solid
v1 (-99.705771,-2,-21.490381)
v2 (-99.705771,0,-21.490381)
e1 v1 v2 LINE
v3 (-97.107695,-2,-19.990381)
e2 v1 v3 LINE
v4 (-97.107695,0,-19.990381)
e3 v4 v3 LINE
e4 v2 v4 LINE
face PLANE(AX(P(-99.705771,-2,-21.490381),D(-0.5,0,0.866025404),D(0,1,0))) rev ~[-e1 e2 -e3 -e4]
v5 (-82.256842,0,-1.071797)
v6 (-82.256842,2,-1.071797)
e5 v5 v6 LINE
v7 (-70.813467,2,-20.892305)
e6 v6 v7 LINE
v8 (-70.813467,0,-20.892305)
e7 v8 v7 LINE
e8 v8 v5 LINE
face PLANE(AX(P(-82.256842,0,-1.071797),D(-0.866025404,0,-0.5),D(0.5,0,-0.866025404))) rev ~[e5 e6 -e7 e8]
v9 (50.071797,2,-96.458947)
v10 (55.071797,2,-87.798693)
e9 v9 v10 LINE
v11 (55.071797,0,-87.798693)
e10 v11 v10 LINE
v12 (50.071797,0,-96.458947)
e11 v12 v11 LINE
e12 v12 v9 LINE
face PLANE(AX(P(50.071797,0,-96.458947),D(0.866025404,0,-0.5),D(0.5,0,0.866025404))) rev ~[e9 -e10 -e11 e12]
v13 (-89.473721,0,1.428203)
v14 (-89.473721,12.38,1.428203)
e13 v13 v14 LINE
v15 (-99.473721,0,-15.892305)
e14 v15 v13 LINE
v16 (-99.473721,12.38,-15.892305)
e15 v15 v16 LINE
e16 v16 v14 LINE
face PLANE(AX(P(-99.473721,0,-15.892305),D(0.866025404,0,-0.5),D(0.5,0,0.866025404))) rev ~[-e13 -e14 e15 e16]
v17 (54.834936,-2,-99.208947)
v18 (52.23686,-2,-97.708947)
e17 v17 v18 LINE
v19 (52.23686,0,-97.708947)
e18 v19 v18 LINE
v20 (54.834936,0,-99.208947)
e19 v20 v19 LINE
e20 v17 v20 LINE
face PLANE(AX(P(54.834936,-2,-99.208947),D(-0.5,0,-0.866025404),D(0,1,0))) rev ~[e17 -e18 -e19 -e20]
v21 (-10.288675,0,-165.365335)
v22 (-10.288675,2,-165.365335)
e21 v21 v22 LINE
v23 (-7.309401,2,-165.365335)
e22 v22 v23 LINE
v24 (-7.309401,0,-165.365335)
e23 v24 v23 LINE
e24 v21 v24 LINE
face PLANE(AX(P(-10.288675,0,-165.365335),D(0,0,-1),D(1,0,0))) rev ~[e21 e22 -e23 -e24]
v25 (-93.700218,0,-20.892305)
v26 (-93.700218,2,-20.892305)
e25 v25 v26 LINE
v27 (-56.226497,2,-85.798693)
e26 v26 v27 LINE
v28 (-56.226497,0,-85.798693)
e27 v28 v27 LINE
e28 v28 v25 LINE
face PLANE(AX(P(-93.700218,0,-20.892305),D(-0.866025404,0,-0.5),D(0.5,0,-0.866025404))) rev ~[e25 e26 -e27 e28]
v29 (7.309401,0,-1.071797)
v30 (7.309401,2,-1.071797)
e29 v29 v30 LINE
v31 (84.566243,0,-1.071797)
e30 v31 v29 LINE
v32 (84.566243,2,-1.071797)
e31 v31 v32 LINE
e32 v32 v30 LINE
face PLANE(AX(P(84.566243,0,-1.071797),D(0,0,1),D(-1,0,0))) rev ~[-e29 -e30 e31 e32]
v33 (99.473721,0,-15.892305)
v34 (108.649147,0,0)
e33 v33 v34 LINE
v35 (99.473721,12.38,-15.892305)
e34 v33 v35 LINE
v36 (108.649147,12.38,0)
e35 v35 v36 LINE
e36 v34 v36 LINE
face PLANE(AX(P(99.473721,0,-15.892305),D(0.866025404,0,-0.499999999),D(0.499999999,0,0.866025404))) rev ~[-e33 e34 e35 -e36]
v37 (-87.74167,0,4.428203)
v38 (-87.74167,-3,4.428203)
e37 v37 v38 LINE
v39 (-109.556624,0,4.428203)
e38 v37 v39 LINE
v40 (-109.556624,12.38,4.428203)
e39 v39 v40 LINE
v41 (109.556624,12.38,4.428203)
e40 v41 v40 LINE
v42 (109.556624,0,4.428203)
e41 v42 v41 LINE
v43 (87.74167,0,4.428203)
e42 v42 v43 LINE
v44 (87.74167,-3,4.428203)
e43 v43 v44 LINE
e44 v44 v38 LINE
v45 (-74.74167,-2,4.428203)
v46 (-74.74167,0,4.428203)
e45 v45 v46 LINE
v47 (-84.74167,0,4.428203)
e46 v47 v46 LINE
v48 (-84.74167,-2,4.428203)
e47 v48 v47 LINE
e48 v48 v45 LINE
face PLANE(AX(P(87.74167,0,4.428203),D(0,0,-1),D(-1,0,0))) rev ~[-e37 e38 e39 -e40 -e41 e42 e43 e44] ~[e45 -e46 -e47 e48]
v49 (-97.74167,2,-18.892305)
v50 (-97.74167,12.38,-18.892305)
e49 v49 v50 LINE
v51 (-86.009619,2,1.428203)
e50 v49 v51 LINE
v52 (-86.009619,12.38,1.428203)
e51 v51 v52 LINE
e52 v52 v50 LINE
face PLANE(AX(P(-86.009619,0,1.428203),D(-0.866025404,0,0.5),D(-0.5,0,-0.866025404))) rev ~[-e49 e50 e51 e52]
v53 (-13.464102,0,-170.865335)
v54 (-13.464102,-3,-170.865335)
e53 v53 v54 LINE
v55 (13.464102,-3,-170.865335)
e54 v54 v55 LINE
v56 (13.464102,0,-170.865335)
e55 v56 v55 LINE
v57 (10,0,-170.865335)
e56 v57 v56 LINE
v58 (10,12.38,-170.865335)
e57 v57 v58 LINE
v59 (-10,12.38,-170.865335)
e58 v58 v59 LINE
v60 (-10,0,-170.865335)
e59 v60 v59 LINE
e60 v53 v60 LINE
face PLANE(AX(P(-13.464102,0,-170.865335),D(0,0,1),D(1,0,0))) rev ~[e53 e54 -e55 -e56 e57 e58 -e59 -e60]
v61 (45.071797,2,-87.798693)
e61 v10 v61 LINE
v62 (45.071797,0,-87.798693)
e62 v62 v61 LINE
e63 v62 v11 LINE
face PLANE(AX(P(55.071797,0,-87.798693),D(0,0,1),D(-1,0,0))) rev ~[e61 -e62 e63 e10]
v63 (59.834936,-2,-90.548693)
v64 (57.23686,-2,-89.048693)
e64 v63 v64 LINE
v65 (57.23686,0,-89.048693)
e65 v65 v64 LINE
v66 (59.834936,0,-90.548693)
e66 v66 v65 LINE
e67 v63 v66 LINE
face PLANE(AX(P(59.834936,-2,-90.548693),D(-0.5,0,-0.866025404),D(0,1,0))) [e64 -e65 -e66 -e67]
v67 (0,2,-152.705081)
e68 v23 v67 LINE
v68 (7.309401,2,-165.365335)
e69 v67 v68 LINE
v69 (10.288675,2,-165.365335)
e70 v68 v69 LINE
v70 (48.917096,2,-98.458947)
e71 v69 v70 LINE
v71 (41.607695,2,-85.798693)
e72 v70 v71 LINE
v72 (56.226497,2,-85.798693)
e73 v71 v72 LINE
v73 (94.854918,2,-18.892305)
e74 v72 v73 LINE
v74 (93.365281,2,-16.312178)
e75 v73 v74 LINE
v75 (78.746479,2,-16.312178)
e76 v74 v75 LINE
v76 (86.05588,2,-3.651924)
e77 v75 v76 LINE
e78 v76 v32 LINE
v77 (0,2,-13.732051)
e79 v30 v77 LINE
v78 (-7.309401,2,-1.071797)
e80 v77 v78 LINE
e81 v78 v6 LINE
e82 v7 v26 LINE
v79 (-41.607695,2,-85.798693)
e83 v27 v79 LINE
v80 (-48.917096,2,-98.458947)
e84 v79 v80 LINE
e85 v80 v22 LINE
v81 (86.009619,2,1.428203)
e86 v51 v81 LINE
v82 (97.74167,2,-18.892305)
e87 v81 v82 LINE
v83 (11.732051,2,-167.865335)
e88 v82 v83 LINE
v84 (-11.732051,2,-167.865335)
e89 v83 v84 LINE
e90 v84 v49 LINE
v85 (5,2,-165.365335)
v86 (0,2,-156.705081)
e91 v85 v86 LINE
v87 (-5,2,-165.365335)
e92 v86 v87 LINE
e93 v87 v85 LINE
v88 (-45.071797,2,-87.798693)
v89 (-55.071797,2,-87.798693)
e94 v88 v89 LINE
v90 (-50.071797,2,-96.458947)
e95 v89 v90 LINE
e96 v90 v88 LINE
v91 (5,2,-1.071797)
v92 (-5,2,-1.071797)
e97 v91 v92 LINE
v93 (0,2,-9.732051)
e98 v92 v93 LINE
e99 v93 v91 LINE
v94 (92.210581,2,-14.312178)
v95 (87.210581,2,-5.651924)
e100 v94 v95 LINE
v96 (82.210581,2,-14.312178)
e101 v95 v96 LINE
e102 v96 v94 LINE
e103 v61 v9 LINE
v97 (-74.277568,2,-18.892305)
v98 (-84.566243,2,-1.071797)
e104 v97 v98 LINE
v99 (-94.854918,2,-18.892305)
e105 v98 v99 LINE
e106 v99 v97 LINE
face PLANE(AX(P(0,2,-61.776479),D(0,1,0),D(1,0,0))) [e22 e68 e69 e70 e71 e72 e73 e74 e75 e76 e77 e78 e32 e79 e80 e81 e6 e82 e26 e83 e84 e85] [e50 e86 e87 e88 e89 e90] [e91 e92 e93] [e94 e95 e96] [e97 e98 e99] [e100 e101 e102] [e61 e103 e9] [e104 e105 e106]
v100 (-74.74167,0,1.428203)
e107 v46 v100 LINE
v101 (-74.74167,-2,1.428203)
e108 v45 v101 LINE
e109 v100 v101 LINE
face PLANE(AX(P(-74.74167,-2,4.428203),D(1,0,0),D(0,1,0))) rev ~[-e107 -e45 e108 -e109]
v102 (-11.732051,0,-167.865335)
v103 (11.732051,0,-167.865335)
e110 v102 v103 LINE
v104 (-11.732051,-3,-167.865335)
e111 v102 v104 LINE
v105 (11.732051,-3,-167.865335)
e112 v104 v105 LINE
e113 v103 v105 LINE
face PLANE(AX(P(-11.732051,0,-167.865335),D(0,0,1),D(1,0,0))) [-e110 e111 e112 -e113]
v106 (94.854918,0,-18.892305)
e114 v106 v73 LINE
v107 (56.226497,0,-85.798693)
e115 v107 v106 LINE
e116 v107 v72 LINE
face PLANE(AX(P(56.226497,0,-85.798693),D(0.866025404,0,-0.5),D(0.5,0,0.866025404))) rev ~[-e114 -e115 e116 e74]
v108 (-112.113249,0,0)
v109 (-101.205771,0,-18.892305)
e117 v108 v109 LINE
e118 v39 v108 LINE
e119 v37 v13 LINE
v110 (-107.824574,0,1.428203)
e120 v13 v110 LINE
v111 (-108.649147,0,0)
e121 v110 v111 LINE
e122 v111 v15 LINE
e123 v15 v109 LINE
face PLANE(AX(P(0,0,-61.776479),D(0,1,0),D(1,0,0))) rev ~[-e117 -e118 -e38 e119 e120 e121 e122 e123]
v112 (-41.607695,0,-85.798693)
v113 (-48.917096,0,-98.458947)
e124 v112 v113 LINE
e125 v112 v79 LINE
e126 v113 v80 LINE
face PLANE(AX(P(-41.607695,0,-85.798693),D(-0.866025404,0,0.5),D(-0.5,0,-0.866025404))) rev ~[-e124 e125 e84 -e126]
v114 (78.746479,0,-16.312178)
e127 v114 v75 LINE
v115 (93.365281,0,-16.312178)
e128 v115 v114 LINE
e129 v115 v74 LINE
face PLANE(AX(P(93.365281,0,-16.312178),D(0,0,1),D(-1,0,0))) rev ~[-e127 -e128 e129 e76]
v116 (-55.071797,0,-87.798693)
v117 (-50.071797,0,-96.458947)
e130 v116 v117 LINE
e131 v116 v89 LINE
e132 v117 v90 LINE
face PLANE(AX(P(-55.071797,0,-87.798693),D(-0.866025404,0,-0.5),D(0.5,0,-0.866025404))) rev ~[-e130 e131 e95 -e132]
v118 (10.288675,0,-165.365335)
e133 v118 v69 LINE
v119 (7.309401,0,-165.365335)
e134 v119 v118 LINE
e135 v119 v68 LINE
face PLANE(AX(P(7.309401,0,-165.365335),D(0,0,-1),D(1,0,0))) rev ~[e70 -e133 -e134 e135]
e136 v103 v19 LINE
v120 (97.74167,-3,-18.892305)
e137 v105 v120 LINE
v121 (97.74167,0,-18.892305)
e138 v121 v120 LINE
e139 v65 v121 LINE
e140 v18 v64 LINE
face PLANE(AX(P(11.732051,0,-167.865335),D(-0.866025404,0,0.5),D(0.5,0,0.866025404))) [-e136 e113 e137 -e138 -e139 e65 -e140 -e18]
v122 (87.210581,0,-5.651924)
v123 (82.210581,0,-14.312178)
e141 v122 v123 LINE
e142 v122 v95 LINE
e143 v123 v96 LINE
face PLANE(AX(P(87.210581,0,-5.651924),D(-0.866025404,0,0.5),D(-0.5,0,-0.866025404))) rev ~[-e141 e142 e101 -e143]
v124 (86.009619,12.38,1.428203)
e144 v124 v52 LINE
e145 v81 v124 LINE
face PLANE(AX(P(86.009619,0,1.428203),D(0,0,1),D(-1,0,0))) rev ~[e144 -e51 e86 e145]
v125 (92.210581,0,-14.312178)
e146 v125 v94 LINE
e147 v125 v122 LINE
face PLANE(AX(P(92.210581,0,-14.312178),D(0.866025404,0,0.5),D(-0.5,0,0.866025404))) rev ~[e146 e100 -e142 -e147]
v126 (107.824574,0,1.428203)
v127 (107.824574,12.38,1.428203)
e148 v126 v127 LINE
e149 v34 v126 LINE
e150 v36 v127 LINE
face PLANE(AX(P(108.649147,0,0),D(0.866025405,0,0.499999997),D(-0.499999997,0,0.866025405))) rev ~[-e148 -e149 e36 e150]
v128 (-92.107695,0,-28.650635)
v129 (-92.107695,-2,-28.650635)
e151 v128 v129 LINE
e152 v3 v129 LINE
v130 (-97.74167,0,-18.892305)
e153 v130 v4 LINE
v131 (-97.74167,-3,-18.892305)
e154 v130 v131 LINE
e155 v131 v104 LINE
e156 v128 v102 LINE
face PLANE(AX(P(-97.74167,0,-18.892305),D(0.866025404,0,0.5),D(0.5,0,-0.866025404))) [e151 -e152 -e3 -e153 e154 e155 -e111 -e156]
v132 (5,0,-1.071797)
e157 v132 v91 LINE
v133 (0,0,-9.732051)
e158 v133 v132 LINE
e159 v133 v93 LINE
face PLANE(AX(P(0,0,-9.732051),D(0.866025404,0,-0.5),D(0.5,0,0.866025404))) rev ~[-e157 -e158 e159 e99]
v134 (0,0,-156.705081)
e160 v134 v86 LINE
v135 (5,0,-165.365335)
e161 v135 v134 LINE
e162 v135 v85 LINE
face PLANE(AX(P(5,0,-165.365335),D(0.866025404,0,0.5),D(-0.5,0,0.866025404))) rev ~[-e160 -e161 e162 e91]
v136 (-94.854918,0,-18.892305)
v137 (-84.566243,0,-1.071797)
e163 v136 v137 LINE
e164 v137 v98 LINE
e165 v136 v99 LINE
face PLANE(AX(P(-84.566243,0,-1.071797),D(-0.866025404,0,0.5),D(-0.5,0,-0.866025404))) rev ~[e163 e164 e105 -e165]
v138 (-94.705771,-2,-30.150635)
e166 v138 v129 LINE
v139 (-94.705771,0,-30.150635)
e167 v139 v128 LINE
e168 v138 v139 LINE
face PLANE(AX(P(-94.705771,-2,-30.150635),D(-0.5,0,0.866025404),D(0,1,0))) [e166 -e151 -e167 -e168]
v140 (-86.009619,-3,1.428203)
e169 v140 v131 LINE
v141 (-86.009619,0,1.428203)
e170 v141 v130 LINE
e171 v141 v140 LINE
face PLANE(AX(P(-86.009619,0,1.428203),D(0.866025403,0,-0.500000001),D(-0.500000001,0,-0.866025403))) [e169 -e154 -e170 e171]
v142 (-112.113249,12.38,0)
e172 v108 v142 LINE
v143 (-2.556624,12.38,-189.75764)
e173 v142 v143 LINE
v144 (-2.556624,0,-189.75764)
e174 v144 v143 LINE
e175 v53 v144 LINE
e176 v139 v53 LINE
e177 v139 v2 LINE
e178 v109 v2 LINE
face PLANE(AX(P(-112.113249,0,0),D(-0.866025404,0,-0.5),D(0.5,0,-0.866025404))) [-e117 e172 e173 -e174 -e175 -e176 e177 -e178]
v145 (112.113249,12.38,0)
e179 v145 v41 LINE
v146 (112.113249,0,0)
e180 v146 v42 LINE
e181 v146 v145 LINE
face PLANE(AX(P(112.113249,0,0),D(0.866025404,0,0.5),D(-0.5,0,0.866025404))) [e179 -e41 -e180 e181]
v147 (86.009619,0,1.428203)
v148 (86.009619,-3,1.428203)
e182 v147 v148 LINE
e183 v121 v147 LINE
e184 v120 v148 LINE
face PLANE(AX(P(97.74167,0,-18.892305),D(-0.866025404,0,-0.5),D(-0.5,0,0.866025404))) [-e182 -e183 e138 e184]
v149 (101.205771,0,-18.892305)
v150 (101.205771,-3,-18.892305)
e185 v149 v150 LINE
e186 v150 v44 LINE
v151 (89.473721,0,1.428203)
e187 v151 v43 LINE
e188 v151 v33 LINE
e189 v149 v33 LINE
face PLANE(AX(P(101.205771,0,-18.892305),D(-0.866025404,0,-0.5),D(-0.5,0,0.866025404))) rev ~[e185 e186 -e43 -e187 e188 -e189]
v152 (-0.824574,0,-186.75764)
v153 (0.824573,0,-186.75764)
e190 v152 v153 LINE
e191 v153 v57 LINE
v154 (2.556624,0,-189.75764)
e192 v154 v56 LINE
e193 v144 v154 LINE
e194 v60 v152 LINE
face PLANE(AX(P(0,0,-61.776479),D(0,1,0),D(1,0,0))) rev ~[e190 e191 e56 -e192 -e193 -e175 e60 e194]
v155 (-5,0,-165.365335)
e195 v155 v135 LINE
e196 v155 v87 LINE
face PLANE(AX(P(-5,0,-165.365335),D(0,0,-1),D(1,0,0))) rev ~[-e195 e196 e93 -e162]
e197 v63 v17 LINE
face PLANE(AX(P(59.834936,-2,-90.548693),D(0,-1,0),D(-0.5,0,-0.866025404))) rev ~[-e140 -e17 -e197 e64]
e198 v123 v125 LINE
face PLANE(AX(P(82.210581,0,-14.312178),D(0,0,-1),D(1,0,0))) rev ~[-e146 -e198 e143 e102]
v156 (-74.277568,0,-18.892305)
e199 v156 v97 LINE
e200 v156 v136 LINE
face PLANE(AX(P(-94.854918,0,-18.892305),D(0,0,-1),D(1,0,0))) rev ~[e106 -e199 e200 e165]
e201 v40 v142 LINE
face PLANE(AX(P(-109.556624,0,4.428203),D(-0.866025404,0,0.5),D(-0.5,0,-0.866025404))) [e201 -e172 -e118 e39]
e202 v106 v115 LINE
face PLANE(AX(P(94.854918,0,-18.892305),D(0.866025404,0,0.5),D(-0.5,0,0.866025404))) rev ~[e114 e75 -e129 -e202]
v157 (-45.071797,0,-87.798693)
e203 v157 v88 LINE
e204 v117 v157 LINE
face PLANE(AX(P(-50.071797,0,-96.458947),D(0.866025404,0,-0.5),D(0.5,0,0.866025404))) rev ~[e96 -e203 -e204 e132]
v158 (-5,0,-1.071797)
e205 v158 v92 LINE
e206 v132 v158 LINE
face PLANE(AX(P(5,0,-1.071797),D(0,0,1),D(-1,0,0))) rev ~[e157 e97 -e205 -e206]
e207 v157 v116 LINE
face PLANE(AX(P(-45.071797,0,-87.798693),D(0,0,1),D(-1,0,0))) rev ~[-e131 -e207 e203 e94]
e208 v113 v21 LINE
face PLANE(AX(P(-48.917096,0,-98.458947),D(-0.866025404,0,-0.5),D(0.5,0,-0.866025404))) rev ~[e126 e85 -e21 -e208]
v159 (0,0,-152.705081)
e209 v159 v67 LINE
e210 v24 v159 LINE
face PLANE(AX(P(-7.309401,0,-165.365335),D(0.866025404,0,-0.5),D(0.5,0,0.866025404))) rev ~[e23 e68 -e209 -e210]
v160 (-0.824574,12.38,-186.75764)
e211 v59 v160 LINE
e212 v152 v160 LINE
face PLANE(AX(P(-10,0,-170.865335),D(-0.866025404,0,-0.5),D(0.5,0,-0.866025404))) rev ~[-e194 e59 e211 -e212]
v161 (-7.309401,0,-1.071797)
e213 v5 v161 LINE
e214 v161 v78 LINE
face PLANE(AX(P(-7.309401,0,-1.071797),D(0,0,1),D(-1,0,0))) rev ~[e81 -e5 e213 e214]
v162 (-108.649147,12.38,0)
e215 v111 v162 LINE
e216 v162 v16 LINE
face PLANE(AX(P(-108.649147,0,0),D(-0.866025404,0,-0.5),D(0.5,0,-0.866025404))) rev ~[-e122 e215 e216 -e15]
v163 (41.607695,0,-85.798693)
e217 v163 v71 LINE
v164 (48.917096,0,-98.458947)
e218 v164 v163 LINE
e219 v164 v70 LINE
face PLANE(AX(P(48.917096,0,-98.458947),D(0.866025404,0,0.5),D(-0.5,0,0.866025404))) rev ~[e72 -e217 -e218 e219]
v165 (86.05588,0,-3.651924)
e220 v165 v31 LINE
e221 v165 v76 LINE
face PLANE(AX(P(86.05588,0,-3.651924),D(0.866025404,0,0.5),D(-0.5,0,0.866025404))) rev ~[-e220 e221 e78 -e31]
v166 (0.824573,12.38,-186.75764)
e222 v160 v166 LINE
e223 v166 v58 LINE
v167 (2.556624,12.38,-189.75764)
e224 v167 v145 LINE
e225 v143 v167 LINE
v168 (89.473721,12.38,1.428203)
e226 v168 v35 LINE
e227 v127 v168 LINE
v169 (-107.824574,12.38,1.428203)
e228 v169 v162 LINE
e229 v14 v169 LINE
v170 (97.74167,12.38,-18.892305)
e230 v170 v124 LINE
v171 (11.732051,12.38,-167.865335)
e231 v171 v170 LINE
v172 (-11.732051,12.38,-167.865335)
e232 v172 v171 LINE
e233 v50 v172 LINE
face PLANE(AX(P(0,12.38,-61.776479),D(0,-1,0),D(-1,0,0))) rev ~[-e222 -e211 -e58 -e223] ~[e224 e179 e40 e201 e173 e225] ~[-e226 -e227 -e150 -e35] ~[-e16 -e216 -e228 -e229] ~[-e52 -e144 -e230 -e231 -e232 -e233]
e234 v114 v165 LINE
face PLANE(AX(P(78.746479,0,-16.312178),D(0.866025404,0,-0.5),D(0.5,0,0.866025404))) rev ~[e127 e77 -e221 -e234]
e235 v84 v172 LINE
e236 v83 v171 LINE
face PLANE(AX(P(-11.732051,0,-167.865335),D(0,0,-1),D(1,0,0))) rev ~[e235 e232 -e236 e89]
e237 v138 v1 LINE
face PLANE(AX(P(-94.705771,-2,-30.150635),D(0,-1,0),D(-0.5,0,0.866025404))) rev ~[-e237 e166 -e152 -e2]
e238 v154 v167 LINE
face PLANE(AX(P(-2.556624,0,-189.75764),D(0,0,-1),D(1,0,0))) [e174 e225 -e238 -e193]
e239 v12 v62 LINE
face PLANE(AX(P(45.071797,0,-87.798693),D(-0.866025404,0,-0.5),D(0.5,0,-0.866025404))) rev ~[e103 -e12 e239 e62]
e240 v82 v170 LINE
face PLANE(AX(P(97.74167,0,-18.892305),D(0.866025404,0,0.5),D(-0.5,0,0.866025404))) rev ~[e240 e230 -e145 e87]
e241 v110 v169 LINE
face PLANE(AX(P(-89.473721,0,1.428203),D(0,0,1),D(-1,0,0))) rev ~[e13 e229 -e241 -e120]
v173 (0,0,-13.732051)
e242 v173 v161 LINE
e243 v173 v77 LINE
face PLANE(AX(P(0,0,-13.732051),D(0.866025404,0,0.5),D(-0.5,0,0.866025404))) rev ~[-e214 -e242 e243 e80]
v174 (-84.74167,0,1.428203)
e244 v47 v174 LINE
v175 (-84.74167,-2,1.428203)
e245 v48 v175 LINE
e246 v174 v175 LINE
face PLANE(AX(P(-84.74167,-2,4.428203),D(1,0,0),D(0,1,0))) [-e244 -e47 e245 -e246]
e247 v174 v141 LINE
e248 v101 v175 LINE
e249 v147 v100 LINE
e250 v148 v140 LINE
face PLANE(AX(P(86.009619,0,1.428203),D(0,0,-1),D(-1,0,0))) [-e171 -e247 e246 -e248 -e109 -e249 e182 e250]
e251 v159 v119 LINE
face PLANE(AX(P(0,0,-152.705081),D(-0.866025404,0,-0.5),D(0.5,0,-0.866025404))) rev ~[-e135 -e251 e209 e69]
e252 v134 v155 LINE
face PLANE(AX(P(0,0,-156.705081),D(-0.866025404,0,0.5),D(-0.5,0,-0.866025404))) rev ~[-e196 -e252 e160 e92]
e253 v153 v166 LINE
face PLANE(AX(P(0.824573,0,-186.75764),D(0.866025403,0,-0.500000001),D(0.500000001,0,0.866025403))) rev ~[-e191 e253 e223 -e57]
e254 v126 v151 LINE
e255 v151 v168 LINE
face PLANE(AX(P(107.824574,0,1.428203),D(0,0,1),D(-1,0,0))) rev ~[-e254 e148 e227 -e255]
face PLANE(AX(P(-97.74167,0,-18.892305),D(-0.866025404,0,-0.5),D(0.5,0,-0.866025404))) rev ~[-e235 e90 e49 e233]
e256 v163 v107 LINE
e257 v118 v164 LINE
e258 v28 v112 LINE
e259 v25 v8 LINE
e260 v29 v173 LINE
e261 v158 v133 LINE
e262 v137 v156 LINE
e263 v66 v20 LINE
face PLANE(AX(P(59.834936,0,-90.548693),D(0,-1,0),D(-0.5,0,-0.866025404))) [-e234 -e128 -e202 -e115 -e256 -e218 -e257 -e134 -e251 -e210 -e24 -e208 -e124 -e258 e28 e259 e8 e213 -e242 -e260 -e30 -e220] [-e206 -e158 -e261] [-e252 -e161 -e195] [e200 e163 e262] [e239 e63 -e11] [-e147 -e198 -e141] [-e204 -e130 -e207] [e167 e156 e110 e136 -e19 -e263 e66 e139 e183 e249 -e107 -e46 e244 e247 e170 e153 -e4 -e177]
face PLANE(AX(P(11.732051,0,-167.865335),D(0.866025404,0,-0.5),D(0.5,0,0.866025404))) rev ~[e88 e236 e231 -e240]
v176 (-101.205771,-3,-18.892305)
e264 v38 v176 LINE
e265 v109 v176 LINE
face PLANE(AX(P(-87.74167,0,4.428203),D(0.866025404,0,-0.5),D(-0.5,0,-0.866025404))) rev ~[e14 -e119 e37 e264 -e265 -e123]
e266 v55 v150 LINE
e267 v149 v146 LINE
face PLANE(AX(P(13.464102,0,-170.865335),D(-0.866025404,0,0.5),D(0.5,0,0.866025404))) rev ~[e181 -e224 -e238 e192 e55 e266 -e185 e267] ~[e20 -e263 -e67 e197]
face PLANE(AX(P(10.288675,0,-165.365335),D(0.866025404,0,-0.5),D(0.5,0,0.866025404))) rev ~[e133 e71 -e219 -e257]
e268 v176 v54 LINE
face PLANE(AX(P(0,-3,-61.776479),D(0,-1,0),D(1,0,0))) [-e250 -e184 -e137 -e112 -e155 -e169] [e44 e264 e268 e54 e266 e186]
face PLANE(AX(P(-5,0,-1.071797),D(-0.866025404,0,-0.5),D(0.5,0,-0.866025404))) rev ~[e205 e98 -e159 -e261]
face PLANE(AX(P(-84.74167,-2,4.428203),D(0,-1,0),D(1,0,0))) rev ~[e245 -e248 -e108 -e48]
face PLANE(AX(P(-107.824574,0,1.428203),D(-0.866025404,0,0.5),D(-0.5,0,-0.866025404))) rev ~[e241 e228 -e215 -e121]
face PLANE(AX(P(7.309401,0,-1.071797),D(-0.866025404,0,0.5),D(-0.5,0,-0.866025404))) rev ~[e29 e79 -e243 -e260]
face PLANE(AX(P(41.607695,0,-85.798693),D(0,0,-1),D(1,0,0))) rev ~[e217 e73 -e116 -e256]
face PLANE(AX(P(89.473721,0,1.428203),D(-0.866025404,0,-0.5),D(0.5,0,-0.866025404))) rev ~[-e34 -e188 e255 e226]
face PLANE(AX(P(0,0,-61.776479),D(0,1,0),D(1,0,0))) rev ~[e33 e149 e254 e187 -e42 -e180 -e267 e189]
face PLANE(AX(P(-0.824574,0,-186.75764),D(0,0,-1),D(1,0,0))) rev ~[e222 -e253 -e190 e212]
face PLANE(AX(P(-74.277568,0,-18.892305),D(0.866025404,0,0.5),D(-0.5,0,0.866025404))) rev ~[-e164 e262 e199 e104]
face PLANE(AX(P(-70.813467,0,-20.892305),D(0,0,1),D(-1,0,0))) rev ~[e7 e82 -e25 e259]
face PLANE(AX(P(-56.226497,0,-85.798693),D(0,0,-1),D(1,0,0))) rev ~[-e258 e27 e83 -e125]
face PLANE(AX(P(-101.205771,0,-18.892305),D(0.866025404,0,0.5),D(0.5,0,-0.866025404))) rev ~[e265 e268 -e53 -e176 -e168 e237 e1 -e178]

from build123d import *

# Parameters (mm, degrees)
BOSS_EXTRUDE1_DEPTH = 12.38
BOSS_EXTRUDE2_DEPTH = 2
BOSS_EXTRUDE3_DEPTH = 3
SKETCH4_W           = 10
SKETCH4_H           = 2
CUT_EXTRUDE1_DEPTH  = 6
SKETCH5_W           = 10
SKETCH5_H           = 2
CUT_EXTRUDE2_DEPTH  = 6
SKETCH6_W           = 10
SKETCH6_H           = 2
CUT_EXTRUDE3_DEPTH  = 6


with BuildPart() as part:
    # Sketch1 → Boss-Extrude1 (new body)
    with BuildSketch(Plane(origin=(0, 0, 0), x_dir=(1, 0, 0), z_dir=(0, 1, 0))):
        Polygon((109.556624327, -4.42820323), (-109.556624327, -4.42820323), (-112.113248654, 0), (-2.55662435, 189.757639654), (2.556624303, 189.757639654), (112.113248654, 0), align=None)
        Polygon((-107.82457352, -1.42820323), (-108.649147039, 0), (-99.473720558, 15.892304845), (-89.473720559, -1.42820323), align=None, mode=Mode.SUBTRACT)
        Polygon((-0.824573543, 186.757639627), (0.824573481, 186.757639627), (9.999999979, 170.86533478), (-10.000000021, 170.86533478), align=None, mode=Mode.SUBTRACT)
        Polygon((108.649147039, 0), (107.82457353, -1.428203222), (89.473720569, -1.428203222), (99.473720569, 15.892304853), align=None, mode=Mode.SUBTRACT)
        Polygon((-11.732050803, 167.865334802), (11.732050803, 167.865334802), (97.741669765, 18.89230486), (86.00961895, -1.428203229), (-86.009618944, -1.428203229), (-97.741669751, 18.892304845), align=None, mode=Mode.SUBTRACT)
    extrude(amount=BOSS_EXTRUDE1_DEPTH)

    # Sketch1<4> → Boss-Extrude2 (add)
    with BuildSketch(Plane(origin=(0, 0, 0), x_dir=(1, 0, 0), z_dir=(0, 1, 0))):
        Polygon((11.732050803, 167.865334802), (-11.732050803, 167.865334802), (-97.741669751, 18.892304845), (-86.009618944, -1.428203229), (86.00961895, -1.428203229), (97.741669765, 18.89230486), align=None)
        Polygon((-84.566243256, 1.071796796), (-94.854918378, 18.892304849), (-74.277568135, 18.892304849), align=None, mode=Mode.SUBTRACT)
        Polygon((-1e-08, 9.732050841), (4.99999999, 1.071796803), (-5.00000001, 1.071796803), align=None, mode=Mode.SUBTRACT)
        Polygon((-45.071796745, 87.798692801), (-55.071796745, 87.798692801), (-50.071796745, 96.458946839), align=None, mode=Mode.SUBTRACT)
        Polygon((82.210580848, 14.312177834), (92.210580848, 14.312177834), (87.210580848, 5.651923796), align=None, mode=Mode.SUBTRACT)
        Polygon((48.91709624, 98.458946834), (41.607695163, 85.798692796), (56.226497316, 85.798692796), (94.854918412, 18.892304841), (93.36528139, 16.312177834), (78.746479233, 16.312177834), (86.055880312, 3.651923793), (84.566243293, 1.071796793), (7.309401088, 1.071796793), (2e-09, 13.732050847), (-7.309401083, 1.071796796), (-82.256842179, 1.071796796), (-70.813466519, 20.892304849), (-93.70021784, 20.892304849), (-56.226497283, 85.798692801), (-41.60769513, 85.798692801), (-48.917096207, 98.458946839), (-10.288675112, 165.365334792), (-7.309401077, 165.365334792), (0, 152.705080754), (7.309401077, 165.365334792), (10.288675142, 165.365334792), align=None, mode=Mode.SUBTRACT)
        Polygon((45.071796778, 87.798692803), (50.071796778, 96.458946841), (55.071796778, 87.798692803), align=None, mode=Mode.SUBTRACT)
        Polygon((0, 156.705080761), (-5, 165.365334799), (5, 165.365334799), align=None, mode=Mode.SUBTRACT)
    extrude(amount=BOSS_EXTRUDE2_DEPTH)

    # Sketch2 → Boss-Extrude3 (add)
    with BuildSketch(Plane.XZ):
        Polygon((101.205771363, -18.892304847), (87.741669751, 4.42820323), (-87.741669751, 4.42820323), (-101.205771368, -18.892304847), (-13.464101652, -170.86533478), (13.464101609, -170.86533478), align=None)
        Polygon((-11.732050819, -167.865334802), (11.732050795, -167.865334802), (97.741669739, -18.892304852), (86.009618931, 1.42820323), (-86.009618931, 1.42820323), (-97.741669763, -18.892304852), align=None, mode=Mode.SUBTRACT)
    extrude(amount=BOSS_EXTRUDE3_DEPTH)

    # Sketch4 → Cut-Extrude1 (cut)
    with BuildSketch(Plane.XY.offset(4.42820323)):
        with Locations((-79.741669751, -1)):
            Rectangle(SKETCH4_W, SKETCH4_H)
    extrude(amount=-CUT_EXTRUDE1_DEPTH, mode=Mode.SUBTRACT)

    # Sketch5 → Cut-Extrude2 (cut)
    with BuildSketch(Plane(origin=(-84.084936503, 0, -48.546460711), x_dir=(-0.4999999998935114, 0, 0.86602540384592), z_dir=(-0.86602540384592, 0, -0.4999999998935114))):
        with Locations((26.241669739, -1)):
            Rectangle(SKETCH5_W, SKETCH5_H)
    extrude(amount=-CUT_EXTRUDE2_DEPTH, mode=Mode.SUBTRACT)

    # Sketch6 → Cut-Extrude3 (cut)
    with BuildSketch(Plane(origin=(84.084936484, 0, -48.546460721), x_dir=(-0.5000000000540236, 0, -0.8660254037532481), z_dir=(0.8660254037532481, 0, -0.5000000000540236))):
        with Locations((53.499999991, -1)):
            Rectangle(SKETCH6_W, SKETCH6_H)
    extrude(amount=-CUT_EXTRUDE3_DEPTH, mode=Mode.SUBTRACT)


solid = part.part
